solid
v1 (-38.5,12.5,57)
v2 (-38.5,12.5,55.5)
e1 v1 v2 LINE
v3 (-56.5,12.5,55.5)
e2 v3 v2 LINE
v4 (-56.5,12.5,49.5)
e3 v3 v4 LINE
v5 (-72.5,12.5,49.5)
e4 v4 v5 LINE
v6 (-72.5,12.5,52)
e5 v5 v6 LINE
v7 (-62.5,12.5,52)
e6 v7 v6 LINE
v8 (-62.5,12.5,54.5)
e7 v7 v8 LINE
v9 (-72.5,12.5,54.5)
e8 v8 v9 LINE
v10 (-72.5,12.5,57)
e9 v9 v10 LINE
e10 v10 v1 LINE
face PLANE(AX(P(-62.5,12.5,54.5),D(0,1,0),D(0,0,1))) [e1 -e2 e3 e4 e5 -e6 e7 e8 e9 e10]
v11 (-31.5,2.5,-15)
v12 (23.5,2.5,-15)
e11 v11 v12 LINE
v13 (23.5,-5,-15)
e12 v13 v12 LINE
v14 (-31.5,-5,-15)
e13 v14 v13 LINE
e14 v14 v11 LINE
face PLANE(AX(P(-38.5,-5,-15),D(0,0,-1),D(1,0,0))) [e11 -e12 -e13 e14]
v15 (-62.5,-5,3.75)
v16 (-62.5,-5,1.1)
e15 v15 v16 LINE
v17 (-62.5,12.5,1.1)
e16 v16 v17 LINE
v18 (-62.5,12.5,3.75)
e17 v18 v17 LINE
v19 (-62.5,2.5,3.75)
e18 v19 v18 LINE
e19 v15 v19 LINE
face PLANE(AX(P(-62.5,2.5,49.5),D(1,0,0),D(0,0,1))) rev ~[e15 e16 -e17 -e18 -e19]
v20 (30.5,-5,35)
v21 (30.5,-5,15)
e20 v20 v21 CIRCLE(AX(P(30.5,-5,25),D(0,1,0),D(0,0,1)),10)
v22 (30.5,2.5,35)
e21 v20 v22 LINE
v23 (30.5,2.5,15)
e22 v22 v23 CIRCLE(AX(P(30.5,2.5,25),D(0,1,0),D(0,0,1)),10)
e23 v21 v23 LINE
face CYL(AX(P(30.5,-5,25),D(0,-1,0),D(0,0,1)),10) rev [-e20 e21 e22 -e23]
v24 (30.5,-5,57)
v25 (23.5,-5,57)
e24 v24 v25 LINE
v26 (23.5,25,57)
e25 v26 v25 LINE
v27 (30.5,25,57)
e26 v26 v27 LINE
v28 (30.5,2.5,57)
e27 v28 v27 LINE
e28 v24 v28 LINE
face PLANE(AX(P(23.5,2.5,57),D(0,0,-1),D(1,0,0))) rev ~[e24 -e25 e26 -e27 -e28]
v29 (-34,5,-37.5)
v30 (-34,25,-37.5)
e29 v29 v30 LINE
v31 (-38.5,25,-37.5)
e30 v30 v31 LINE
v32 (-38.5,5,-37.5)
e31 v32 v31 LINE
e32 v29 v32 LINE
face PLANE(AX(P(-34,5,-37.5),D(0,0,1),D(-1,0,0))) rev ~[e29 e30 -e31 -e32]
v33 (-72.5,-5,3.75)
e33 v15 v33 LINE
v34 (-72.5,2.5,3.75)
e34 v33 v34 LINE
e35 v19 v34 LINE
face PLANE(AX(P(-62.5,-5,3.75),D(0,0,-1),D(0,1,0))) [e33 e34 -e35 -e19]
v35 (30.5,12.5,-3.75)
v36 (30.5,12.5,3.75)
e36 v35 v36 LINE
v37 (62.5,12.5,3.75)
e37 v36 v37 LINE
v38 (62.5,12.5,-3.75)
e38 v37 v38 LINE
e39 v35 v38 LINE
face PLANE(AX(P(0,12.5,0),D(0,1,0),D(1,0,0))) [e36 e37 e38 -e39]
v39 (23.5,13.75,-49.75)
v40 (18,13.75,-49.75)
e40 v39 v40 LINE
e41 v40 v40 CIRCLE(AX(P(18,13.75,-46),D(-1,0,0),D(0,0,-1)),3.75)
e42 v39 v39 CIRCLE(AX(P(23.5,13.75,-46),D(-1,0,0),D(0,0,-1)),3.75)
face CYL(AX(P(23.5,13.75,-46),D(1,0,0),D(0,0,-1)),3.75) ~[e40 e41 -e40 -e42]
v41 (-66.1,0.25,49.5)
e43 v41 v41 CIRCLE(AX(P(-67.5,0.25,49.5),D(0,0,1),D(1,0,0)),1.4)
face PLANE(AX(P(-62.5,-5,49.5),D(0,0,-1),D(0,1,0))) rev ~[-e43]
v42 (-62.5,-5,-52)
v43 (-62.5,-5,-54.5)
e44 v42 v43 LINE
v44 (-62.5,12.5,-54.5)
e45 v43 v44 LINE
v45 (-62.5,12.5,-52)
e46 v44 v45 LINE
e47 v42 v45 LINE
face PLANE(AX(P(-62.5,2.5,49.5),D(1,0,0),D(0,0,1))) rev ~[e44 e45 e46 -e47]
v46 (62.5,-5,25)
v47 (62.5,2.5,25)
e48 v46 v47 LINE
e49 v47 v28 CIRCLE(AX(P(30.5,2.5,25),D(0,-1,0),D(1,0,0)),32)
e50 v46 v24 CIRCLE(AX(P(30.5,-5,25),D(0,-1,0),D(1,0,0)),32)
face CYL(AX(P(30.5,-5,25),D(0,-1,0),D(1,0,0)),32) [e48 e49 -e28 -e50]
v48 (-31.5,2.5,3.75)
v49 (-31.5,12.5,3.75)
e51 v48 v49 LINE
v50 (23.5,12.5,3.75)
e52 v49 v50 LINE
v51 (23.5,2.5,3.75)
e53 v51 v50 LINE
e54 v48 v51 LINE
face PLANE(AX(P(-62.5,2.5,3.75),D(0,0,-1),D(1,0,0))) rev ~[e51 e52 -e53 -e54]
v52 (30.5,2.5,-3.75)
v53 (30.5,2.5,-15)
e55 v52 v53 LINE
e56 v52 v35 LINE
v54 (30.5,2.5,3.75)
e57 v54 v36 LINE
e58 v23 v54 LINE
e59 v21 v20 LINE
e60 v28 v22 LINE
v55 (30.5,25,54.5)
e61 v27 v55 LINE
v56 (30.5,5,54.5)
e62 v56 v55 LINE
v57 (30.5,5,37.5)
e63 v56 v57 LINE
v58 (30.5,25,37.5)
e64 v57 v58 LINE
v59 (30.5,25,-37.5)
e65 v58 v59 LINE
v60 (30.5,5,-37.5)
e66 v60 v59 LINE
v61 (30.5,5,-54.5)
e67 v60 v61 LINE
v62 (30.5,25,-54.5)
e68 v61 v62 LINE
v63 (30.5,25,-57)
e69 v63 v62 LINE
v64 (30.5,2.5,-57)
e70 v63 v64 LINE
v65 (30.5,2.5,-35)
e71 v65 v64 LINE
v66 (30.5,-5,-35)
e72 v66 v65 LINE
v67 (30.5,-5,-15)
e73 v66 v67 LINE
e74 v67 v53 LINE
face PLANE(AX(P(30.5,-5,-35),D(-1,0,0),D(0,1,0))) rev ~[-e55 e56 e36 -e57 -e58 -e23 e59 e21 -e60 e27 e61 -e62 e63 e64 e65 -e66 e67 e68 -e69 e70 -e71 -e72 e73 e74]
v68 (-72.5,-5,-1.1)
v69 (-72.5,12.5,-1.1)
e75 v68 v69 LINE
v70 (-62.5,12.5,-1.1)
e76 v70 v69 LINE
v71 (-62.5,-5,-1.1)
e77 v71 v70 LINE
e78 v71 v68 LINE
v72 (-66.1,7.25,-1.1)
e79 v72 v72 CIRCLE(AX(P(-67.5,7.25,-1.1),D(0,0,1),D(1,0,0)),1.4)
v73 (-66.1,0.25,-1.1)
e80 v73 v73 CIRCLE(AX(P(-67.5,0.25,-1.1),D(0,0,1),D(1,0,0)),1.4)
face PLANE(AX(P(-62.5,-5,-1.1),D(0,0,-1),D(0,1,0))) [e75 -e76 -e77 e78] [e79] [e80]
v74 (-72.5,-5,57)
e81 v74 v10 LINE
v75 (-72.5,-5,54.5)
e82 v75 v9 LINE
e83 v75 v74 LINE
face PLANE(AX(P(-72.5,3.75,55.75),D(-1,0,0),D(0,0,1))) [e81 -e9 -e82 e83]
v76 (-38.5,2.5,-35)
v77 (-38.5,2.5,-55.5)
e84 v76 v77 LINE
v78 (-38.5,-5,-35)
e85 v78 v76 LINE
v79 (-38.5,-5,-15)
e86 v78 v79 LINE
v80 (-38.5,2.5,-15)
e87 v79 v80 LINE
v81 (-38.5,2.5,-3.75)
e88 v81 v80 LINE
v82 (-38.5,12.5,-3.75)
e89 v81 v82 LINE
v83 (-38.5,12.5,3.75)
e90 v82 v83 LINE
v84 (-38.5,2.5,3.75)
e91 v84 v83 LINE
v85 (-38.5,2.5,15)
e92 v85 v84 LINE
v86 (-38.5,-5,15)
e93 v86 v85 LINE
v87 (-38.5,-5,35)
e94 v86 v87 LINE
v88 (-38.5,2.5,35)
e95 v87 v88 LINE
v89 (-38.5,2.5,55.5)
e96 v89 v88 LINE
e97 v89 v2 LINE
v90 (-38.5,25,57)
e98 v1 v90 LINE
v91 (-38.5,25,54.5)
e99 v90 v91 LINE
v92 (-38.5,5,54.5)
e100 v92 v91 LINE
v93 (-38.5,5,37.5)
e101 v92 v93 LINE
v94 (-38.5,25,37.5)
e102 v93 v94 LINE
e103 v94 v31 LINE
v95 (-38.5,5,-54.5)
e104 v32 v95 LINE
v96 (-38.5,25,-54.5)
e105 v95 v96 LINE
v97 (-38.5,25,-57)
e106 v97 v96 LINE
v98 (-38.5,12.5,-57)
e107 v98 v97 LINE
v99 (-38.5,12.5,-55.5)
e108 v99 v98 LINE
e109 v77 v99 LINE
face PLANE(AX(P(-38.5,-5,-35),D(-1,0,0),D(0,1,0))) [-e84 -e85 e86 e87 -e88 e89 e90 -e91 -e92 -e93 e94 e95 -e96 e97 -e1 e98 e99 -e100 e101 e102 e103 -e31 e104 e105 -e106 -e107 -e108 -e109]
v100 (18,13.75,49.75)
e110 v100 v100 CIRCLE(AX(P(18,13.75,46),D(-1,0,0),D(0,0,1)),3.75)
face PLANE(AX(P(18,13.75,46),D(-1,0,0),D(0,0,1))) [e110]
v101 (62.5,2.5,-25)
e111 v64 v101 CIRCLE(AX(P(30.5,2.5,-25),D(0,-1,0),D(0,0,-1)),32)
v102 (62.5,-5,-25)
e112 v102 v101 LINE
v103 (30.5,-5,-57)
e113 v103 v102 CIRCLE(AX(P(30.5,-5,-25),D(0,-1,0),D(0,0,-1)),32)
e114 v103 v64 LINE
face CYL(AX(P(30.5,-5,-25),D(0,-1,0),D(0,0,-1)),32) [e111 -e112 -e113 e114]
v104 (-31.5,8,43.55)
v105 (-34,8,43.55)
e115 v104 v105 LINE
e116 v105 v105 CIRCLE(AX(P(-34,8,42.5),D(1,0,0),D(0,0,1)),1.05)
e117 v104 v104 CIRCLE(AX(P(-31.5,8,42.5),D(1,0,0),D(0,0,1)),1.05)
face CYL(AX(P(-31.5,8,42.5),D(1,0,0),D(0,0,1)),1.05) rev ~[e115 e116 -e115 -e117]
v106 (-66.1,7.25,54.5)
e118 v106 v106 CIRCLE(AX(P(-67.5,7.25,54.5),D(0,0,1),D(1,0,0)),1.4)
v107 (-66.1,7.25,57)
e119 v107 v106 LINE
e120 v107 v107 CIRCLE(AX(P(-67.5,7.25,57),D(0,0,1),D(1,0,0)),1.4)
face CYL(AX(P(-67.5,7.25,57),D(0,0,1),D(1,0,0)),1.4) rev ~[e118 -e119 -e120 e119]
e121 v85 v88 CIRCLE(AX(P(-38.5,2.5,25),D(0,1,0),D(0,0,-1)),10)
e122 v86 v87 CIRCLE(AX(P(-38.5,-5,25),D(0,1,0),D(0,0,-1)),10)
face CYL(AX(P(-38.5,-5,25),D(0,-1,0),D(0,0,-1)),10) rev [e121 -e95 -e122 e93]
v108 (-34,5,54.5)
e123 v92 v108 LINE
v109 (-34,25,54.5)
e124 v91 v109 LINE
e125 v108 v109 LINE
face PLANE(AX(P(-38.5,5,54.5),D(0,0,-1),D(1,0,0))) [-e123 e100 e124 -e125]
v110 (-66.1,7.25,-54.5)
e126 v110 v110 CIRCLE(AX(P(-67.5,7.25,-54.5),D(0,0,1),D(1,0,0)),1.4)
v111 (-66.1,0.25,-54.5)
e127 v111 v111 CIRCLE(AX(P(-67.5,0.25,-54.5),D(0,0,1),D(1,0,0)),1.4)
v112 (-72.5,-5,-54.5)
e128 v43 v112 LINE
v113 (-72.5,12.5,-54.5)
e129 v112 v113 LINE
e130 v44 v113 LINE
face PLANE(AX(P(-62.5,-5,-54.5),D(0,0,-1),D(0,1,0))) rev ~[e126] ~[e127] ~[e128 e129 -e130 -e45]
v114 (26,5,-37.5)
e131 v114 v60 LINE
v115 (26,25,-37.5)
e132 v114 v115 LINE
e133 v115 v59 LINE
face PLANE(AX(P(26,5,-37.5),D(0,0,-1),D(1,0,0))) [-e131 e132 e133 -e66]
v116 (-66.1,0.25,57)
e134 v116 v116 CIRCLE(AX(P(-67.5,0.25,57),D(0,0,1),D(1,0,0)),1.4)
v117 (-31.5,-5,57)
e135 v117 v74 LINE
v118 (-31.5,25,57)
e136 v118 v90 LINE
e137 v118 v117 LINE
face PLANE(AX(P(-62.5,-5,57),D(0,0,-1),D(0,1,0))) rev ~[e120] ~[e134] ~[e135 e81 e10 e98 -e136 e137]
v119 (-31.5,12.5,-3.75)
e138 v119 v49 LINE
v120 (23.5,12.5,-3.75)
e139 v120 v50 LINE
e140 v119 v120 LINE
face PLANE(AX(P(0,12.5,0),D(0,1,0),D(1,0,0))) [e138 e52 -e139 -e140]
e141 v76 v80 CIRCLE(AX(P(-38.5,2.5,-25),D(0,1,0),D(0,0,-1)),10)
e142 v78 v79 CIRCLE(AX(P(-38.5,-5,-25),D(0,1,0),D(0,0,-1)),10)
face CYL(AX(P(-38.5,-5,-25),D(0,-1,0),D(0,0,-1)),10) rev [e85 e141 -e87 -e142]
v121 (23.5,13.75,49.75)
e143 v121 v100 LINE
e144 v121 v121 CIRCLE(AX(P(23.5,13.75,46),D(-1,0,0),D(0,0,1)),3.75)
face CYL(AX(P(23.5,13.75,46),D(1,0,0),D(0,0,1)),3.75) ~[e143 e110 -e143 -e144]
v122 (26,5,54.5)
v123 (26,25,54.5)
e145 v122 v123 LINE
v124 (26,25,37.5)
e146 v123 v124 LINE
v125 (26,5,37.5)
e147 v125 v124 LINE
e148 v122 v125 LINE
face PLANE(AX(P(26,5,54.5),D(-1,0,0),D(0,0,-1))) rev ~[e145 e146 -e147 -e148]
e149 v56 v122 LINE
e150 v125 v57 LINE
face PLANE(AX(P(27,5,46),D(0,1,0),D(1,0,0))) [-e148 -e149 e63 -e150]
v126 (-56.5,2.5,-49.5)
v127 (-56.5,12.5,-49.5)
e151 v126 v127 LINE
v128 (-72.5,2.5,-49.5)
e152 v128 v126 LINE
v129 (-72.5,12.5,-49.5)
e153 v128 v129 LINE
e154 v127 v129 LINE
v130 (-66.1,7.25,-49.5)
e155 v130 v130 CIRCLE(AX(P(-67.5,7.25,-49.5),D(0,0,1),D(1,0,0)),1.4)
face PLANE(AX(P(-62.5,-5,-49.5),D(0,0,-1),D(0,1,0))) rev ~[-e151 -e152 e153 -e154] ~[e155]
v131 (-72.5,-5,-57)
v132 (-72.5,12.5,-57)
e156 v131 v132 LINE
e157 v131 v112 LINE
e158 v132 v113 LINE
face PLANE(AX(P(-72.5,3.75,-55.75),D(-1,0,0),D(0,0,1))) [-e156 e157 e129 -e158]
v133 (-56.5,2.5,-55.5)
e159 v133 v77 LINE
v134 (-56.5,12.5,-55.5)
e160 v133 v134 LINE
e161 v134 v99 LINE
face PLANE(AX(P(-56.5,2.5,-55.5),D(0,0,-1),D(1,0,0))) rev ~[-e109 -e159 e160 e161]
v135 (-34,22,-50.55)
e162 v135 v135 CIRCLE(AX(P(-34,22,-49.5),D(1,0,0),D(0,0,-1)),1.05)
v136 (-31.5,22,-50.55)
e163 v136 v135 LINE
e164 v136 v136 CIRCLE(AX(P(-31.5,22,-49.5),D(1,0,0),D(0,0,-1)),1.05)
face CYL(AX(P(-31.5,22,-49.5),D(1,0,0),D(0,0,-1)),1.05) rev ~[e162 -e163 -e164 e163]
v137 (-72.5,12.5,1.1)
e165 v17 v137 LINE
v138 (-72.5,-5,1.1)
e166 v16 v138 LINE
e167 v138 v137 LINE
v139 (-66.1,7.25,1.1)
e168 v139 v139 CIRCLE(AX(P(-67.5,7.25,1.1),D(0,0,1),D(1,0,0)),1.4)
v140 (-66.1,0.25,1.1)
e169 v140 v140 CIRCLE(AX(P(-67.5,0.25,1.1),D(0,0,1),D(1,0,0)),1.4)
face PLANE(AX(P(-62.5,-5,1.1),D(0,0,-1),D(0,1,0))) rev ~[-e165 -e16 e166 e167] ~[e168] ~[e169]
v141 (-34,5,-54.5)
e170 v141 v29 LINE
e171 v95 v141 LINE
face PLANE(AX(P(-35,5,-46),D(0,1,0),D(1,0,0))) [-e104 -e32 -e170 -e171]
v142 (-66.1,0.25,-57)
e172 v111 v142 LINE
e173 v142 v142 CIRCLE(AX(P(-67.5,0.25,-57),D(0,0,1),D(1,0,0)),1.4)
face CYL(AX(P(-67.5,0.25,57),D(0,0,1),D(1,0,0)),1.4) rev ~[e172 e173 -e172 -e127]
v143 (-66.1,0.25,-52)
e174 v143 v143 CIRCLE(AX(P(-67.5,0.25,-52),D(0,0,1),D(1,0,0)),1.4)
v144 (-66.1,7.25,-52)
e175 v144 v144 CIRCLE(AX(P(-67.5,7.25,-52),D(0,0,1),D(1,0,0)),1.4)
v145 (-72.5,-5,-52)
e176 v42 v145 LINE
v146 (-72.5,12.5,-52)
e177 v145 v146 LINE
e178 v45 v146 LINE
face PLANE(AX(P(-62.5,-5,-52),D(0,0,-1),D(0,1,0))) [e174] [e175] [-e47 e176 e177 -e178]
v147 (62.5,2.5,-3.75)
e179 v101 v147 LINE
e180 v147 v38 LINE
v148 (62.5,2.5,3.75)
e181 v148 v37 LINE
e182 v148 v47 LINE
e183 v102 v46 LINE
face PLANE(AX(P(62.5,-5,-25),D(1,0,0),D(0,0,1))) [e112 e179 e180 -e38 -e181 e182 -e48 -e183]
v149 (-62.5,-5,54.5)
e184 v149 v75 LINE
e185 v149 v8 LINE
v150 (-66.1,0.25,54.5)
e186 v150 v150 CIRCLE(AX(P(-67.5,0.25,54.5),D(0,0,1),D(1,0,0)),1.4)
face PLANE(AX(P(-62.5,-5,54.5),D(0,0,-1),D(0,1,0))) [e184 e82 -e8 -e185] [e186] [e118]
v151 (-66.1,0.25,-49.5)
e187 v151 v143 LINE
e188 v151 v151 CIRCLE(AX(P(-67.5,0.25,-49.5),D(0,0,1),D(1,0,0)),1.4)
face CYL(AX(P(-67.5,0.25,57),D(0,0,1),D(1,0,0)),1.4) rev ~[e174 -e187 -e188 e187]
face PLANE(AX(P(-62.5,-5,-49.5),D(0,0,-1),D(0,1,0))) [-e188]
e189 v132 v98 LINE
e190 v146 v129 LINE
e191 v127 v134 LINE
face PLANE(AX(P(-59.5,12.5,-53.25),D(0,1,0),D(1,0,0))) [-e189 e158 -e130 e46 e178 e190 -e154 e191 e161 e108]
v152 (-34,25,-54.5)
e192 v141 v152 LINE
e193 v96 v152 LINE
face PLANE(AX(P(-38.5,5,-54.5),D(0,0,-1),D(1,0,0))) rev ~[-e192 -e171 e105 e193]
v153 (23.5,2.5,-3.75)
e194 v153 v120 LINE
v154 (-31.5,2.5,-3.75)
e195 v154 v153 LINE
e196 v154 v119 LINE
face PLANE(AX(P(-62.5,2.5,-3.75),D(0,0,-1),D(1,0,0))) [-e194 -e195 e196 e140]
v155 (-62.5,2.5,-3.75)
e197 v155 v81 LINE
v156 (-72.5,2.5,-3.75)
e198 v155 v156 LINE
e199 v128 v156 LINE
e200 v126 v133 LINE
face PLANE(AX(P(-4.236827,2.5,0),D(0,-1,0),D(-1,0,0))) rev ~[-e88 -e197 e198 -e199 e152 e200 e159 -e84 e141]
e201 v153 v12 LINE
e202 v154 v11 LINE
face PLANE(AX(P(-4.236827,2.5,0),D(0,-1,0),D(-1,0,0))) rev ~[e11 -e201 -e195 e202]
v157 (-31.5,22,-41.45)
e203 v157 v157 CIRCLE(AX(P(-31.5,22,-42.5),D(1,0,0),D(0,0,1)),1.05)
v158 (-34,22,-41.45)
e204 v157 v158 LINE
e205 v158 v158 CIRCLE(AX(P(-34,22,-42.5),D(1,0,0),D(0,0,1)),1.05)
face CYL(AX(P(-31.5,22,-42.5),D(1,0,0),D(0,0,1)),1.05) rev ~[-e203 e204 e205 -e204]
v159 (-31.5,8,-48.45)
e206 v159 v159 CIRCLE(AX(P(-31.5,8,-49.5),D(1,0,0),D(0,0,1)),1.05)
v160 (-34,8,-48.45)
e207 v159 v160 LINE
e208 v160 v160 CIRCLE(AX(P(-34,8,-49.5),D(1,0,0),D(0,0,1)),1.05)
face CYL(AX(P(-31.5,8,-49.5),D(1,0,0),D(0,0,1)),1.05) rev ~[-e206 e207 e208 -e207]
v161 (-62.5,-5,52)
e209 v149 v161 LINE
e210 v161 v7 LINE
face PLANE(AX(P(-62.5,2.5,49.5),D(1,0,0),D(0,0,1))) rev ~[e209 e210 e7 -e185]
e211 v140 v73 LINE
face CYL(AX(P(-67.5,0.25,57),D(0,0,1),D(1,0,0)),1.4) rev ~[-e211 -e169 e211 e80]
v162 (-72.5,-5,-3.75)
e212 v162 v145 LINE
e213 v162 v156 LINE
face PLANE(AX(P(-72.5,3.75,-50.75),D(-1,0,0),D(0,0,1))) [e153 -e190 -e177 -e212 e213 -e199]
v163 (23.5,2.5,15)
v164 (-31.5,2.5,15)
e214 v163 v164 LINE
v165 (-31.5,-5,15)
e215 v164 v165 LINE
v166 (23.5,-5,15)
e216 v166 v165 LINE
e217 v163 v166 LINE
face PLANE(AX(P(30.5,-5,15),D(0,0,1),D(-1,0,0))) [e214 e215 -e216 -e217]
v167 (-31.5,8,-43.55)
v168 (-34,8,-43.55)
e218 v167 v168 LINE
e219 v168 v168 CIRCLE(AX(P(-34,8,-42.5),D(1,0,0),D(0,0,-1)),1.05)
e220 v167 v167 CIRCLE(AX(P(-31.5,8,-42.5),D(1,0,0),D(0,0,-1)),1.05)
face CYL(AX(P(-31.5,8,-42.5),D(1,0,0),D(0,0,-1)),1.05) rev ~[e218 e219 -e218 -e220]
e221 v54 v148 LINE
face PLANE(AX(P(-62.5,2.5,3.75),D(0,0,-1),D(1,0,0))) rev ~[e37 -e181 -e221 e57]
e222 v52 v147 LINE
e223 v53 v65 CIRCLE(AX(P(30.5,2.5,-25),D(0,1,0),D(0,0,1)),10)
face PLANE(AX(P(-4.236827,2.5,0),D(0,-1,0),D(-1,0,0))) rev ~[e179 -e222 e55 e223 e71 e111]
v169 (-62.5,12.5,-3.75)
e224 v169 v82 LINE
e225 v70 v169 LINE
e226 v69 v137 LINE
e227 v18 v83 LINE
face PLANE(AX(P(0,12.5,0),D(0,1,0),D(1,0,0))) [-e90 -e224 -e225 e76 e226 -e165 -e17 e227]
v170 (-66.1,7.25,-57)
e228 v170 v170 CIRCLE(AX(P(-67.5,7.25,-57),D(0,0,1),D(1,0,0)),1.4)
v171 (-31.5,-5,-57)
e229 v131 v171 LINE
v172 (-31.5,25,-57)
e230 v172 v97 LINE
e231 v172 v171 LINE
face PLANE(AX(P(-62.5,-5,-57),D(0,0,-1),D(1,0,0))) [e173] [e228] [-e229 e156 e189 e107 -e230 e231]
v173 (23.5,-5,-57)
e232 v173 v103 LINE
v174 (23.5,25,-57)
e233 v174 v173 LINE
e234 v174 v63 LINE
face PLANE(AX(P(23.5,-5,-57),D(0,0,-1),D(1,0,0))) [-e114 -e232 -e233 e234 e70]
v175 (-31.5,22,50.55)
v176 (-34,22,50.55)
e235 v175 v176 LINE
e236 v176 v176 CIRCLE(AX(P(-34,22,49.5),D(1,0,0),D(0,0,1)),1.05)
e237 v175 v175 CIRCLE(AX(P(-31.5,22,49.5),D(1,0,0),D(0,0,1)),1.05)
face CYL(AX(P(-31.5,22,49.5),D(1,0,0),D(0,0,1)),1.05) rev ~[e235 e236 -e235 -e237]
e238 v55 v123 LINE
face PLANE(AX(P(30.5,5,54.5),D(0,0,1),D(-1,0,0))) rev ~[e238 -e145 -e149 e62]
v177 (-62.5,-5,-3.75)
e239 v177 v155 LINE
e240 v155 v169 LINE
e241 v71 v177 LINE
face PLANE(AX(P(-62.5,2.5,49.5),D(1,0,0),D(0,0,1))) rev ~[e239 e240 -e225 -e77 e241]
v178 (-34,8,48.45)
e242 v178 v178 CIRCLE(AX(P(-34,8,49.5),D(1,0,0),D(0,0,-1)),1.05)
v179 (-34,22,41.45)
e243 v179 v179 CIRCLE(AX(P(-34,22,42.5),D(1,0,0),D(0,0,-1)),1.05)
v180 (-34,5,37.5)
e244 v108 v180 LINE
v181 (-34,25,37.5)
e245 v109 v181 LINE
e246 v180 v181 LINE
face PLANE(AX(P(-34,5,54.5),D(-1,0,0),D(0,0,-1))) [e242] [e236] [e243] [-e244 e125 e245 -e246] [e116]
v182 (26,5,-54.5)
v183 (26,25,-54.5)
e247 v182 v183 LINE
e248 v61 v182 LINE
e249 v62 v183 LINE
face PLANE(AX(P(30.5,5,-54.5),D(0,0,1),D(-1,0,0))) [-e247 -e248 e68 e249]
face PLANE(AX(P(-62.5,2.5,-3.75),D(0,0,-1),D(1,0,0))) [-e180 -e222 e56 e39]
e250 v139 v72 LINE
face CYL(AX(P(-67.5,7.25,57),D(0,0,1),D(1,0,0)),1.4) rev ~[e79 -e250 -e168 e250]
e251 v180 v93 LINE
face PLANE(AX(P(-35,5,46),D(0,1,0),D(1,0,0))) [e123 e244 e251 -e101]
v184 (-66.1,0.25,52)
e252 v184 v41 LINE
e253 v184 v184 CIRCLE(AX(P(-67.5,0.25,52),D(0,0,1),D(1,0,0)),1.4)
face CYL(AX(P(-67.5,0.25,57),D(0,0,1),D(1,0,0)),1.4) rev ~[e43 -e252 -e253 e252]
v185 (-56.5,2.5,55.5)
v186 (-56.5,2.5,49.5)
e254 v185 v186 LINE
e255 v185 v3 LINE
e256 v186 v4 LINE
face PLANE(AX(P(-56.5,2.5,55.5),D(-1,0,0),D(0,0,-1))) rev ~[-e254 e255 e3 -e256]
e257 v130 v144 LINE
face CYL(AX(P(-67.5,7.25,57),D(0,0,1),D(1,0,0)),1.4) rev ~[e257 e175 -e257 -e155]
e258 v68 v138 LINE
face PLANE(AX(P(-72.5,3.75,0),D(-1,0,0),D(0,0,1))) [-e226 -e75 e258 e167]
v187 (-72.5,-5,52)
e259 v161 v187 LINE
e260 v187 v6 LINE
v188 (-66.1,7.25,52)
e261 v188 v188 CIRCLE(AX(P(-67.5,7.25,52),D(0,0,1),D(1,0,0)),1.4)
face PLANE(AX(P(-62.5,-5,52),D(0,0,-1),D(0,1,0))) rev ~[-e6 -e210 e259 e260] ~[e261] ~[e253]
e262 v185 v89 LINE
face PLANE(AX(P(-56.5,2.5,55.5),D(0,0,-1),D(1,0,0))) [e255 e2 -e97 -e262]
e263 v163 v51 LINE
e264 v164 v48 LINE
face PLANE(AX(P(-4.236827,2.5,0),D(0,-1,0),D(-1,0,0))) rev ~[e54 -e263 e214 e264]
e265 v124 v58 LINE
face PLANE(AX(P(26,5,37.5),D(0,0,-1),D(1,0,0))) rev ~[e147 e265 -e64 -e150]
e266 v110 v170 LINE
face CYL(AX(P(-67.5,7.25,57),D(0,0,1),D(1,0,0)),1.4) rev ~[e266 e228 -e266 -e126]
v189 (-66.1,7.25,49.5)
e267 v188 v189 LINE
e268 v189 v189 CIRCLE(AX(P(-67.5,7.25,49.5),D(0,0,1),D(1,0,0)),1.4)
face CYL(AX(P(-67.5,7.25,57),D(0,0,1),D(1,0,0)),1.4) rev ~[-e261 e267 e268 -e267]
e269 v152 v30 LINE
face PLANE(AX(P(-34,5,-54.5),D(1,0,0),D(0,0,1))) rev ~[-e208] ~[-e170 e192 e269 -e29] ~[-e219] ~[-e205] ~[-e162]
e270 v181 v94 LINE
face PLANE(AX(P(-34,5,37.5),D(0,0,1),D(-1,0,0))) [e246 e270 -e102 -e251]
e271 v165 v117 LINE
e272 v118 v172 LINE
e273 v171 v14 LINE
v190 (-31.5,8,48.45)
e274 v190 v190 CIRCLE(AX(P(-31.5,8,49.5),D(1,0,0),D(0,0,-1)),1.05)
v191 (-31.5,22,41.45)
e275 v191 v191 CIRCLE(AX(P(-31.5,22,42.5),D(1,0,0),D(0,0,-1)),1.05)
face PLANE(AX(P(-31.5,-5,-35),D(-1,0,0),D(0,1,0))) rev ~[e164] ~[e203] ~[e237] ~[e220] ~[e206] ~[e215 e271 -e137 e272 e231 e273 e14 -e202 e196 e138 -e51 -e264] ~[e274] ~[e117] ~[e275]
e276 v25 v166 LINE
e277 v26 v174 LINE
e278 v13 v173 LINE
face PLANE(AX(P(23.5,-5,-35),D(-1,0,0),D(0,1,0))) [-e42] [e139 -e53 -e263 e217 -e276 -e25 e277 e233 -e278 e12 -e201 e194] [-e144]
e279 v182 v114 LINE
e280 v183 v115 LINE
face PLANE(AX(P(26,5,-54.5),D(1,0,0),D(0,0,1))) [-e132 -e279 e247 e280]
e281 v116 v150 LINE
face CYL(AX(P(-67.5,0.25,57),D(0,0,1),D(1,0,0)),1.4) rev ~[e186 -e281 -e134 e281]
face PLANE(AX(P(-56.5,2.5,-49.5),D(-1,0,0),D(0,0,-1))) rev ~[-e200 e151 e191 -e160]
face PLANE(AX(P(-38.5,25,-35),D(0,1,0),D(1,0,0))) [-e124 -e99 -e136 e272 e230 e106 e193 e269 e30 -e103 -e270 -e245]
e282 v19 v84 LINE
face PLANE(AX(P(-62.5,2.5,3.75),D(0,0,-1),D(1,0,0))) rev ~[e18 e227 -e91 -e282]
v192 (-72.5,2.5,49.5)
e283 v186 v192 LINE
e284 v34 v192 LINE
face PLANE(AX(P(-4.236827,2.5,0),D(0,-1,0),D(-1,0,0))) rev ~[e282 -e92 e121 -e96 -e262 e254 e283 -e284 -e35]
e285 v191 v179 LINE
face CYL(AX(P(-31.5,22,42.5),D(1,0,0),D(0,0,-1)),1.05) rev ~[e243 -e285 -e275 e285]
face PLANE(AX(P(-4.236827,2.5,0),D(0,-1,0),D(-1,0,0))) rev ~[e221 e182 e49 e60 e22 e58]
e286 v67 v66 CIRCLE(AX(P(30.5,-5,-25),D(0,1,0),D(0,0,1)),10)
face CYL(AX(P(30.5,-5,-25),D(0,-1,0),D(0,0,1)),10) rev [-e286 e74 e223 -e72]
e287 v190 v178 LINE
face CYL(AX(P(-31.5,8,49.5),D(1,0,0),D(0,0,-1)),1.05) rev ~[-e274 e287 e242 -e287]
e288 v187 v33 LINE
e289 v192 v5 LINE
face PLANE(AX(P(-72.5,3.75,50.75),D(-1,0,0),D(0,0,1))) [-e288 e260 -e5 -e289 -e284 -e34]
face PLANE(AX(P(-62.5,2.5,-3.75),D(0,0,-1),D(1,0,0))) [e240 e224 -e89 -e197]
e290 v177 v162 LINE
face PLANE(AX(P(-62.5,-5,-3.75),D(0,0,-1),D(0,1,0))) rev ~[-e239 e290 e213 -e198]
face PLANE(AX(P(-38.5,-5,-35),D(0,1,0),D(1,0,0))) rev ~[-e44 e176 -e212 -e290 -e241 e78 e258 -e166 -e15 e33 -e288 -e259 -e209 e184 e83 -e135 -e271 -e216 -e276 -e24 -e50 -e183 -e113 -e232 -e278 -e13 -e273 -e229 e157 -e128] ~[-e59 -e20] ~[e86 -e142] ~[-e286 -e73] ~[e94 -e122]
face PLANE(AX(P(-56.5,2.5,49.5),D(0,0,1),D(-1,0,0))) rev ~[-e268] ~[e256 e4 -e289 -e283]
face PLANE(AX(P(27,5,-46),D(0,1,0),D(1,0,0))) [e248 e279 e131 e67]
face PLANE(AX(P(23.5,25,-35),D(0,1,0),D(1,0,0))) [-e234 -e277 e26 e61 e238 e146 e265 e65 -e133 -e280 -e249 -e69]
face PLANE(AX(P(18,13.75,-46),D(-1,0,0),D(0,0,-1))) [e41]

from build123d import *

# Parameters (mm, degrees)
BOSS_EXTRUDE1_DEPTH      = 2.5
BOSS_EXTRUDE1_DEPTH_BACK = 5
SKETCH3_W                = 7
SKETCH3_H                = 22
BOSS_EXTRUDE4_DEPTH      = 2.5
BOSS_EXTRUDE5_DEPTH      = 20
SKETCH7_R                = 3.75
BOSS_EXTRUDE6_DEPTH      = 5.5
SKETCH10_R               = 1.05
CUT_EXTRUDE1_DEPTH       = 2.5
SKETCH14_W               = 125
SKETCH14_H               = 7.5
SKETCH14_W_2             = 18
SKETCH14_H_2             = 1.5
BOSS_EXTRUDE8_DEPTH      = 10
SKETCH15_W               = 2.2
SKETCH15_H               = 17.5
SKETCH15_W_2             = 2.5
BOSS_EXTRUDE9_DEPTH      = 10
SKETCH16_R               = 1.4
CUT_EXTRUDE3_DEPTH       = 114
SKETCH17_W               = 7
SKETCH17_H               = 30
BOSS_EXTRUDE10_DEPTH     = 70
SKETCH18_W               = 45.75
SKETCH18_H               = 7.5
BOSS_EXTRUDE11_DEPTH     = 10


with BuildPart() as part:
    # Sketch2 → Boss-Extrude1 (new, two sides: drawn at the far end of the back side and taken through both)
    with BuildSketch(Plane(origin=(0, 0, 0), x_dir=(1, 0, 0), z_dir=(0, 1, 0)).offset(-BOSS_EXTRUDE1_DEPTH_BACK)):
        with BuildLine():
            Line((62.5, 25), (62.5, -25))
            ThreePointArc((62.5, -25), (53.127416998, -47.627416998), (30.5, -57))
            Line((30.5, -57), (23.5, -57))
            Line((23.5, -57), (23.5, -35))
            Line((23.5, -35), (30.5, -35))
            ThreePointArc((30.5, -35), (40.5, -25), (30.5, -15))
            Line((30.5, -15), (-38.5, -15))
            ThreePointArc((-38.5, -15), (-48.5, -25), (-38.5, -35))
            Line((-38.5, -35), (-31.5, -35))
            Line((-31.5, -35), (-31.5, -57))
            Line((-31.5, -57), (-38.5, -57))
            Line((-38.5, -57), (-62.5, -57))
            Line((-62.5, -57), (-62.5, 57))
            Line((-62.5, 57), (-38.5, 57))
            Line((-38.5, 57), (-31.5, 57))
            Line((-31.5, 57), (-31.5, 35))
            Line((-31.5, 35), (-38.5, 35))
            ThreePointArc((-38.5, 35), (-48.5, 25), (-38.5, 15))
            Line((-38.5, 15), (30.5, 15))
            ThreePointArc((30.5, 15), (40.5, 25), (30.5, 35))
            Line((30.5, 35), (23.5, 35))
            Line((23.5, 35), (23.5, 57))
            Line((23.5, 57), (30.5, 57))
            ThreePointArc((30.5, 57), (53.127416998, 47.627416998), (62.5, 25))
        make_face()
    extrude(amount=BOSS_EXTRUDE1_DEPTH + BOSS_EXTRUDE1_DEPTH_BACK)

    # Sketch3 → Boss-Extrude4 (add)
    with BuildSketch(Plane(origin=(0, 2.5, 0), x_dir=(1, 0, 0), z_dir=(0, 1, 0))):
        with Locations((-35, -46)):
            Rectangle(SKETCH3_W, SKETCH3_H)
        with Locations((27, -46)):
            Rectangle(SKETCH3_W, SKETCH3_H)
        with Locations((27, 46)):
            Rectangle(SKETCH3_W, SKETCH3_H)
        with Locations((-35, 46)):
            Rectangle(SKETCH3_W, SKETCH3_H)
    extrude(amount=BOSS_EXTRUDE4_DEPTH)

    # Sketch6 → Boss-Extrude5 (add)
    with BuildSketch(Plane(origin=(0, 5, 0), x_dir=(1, 0, 0), z_dir=(0, 1, 0))):
        Polygon((-38.5, -35), (-31.5, -35), (-31.5, -57), (-38.5, -57), (-38.5, -54.5), (-34, -54.5), (-34, -37.5), (-38.5, -37.5), align=None)
        Polygon((30.5, -35), (23.5, -35), (23.5, -57), (30.5, -57), (30.5, -54.5), (26, -54.5), (26, -37.5), (30.5, -37.5), align=None)
        Polygon((30.5, 37.5), (30.5, 35), (23.5, 35), (23.5, 57), (30.5, 57), (30.5, 54.5), (26, 54.5), (26, 37.5), align=None)
        Polygon((-38.5, 37.5), (-38.5, 35), (-31.5, 35), (-31.5, 57), (-38.5, 57), (-38.5, 54.5), (-34, 54.5), (-34, 37.5), align=None)
    extrude(amount=BOSS_EXTRUDE5_DEPTH)

    # Sketch7 → Boss-Extrude6 (add)
    with BuildSketch(Plane.ZY.offset(-23.5)):
        with Locations((46, 13.75)):
            Circle(SKETCH7_R)
        with Locations(Location((-46, 13.75, 0), (0, 0, 180))):
            Circle(SKETCH7_R)
    extrude(amount=BOSS_EXTRUDE6_DEPTH)

    # Sketch10 → Cut-Extrude1 (cut)
    with BuildSketch(Plane(origin=(-31.5, 0, 0), x_dir=(0, 0, -1), z_dir=(1, 0, 0))):
        with Locations((-42.5, 22)):
            Circle(SKETCH10_R)
        with Locations(Location((-49.5, 22, 0), (0, 0, 180))):
            Circle(SKETCH10_R)
        with Locations((-49.5, 8)):
            Circle(SKETCH10_R)
        with Locations(Location((-42.5, 8, 0), (0, 0, 180))):
            Circle(SKETCH10_R)
        with Locations((42.5, 8)):
            Circle(SKETCH10_R)
        with Locations(Location((49.5, 8, 0), (0, 0, 180))):
            Circle(SKETCH10_R)
        with Locations((49.5, 22)):
            Circle(SKETCH10_R)
        with Locations(Location((42.5, 22, 0), (0, 0, 180))):
            Circle(SKETCH10_R)
    extrude(amount=-CUT_EXTRUDE1_DEPTH, mode=Mode.SUBTRACT)

    # Sketch14 → Boss-Extrude8 (add)
    with BuildSketch(Plane(origin=(0, 2.5, 0), x_dir=(1, 0, 0), z_dir=(0, 1, 0))):
        Rectangle(SKETCH14_W, SKETCH14_H)
        Polygon((-56.5, -49.5), (-62.5, -49.5), (-62.5, -57), (-56.5, -57), (-56.5, -55.5), align=None)
        with Locations((-47.5, -56.25)):
            Rectangle(SKETCH14_W_2, SKETCH14_H_2)
        Polygon((-62.5, 57), (-62.5, 49.5), (-56.5, 49.5), (-56.5, 55.5), (-56.5, 57), align=None)
        with Locations((-47.5, 56.25)):
            Rectangle(SKETCH14_W_2, SKETCH14_H_2)
    extrude(amount=BOSS_EXTRUDE8_DEPTH)

    # Sketch15 → Boss-Extrude9 (add)
    with BuildSketch(Plane.ZY.offset(62.5)):
        with Locations((0, 3.75)):
            Rectangle(SKETCH15_W, SKETCH15_H)
        with Locations((55.75, 3.75)):
            Rectangle(SKETCH15_W_2, SKETCH15_H)
        with Locations((50.75, 3.75)):
            Rectangle(SKETCH15_W_2, SKETCH15_H)
        with Locations((-50.75, 3.75)):
            Rectangle(SKETCH15_W_2, SKETCH15_H)
        with Locations((-55.75, 3.75)):
            Rectangle(SKETCH15_W_2, SKETCH15_H)
    extrude(amount=BOSS_EXTRUDE9_DEPTH)

    # Sketch16 → Cut-Extrude3 (cut)
    with BuildSketch(Plane.XY.offset(57)):
        with Locations((-67.5, 7.25)):
            Circle(SKETCH16_R)
        with Locations((-67.5, 0.25)):
            Circle(SKETCH16_R)
    extrude(amount=-CUT_EXTRUDE3_DEPTH, mode=Mode.SUBTRACT)

    # Sketch17 → Boss-Extrude10 (add)
    with BuildSketch(Plane.XY.offset(-35)):
        with Locations((-35, 10)):
            Rectangle(SKETCH17_W, SKETCH17_H)
        with Locations((27, 10)):
            Rectangle(SKETCH17_W, SKETCH17_H)
    extrude(amount=BOSS_EXTRUDE10_DEPTH)

    # Sketch18 → Boss-Extrude11 (add)
    with BuildSketch(Plane.ZY.offset(62.5)):
        with Locations((-26.625, -1.25)):
            Rectangle(SKETCH18_W, SKETCH18_H)
        with Locations((26.625, -1.25)):
            Rectangle(SKETCH18_W, SKETCH18_H)
    extrude(amount=BOSS_EXTRUDE11_DEPTH)


solid = part.part
